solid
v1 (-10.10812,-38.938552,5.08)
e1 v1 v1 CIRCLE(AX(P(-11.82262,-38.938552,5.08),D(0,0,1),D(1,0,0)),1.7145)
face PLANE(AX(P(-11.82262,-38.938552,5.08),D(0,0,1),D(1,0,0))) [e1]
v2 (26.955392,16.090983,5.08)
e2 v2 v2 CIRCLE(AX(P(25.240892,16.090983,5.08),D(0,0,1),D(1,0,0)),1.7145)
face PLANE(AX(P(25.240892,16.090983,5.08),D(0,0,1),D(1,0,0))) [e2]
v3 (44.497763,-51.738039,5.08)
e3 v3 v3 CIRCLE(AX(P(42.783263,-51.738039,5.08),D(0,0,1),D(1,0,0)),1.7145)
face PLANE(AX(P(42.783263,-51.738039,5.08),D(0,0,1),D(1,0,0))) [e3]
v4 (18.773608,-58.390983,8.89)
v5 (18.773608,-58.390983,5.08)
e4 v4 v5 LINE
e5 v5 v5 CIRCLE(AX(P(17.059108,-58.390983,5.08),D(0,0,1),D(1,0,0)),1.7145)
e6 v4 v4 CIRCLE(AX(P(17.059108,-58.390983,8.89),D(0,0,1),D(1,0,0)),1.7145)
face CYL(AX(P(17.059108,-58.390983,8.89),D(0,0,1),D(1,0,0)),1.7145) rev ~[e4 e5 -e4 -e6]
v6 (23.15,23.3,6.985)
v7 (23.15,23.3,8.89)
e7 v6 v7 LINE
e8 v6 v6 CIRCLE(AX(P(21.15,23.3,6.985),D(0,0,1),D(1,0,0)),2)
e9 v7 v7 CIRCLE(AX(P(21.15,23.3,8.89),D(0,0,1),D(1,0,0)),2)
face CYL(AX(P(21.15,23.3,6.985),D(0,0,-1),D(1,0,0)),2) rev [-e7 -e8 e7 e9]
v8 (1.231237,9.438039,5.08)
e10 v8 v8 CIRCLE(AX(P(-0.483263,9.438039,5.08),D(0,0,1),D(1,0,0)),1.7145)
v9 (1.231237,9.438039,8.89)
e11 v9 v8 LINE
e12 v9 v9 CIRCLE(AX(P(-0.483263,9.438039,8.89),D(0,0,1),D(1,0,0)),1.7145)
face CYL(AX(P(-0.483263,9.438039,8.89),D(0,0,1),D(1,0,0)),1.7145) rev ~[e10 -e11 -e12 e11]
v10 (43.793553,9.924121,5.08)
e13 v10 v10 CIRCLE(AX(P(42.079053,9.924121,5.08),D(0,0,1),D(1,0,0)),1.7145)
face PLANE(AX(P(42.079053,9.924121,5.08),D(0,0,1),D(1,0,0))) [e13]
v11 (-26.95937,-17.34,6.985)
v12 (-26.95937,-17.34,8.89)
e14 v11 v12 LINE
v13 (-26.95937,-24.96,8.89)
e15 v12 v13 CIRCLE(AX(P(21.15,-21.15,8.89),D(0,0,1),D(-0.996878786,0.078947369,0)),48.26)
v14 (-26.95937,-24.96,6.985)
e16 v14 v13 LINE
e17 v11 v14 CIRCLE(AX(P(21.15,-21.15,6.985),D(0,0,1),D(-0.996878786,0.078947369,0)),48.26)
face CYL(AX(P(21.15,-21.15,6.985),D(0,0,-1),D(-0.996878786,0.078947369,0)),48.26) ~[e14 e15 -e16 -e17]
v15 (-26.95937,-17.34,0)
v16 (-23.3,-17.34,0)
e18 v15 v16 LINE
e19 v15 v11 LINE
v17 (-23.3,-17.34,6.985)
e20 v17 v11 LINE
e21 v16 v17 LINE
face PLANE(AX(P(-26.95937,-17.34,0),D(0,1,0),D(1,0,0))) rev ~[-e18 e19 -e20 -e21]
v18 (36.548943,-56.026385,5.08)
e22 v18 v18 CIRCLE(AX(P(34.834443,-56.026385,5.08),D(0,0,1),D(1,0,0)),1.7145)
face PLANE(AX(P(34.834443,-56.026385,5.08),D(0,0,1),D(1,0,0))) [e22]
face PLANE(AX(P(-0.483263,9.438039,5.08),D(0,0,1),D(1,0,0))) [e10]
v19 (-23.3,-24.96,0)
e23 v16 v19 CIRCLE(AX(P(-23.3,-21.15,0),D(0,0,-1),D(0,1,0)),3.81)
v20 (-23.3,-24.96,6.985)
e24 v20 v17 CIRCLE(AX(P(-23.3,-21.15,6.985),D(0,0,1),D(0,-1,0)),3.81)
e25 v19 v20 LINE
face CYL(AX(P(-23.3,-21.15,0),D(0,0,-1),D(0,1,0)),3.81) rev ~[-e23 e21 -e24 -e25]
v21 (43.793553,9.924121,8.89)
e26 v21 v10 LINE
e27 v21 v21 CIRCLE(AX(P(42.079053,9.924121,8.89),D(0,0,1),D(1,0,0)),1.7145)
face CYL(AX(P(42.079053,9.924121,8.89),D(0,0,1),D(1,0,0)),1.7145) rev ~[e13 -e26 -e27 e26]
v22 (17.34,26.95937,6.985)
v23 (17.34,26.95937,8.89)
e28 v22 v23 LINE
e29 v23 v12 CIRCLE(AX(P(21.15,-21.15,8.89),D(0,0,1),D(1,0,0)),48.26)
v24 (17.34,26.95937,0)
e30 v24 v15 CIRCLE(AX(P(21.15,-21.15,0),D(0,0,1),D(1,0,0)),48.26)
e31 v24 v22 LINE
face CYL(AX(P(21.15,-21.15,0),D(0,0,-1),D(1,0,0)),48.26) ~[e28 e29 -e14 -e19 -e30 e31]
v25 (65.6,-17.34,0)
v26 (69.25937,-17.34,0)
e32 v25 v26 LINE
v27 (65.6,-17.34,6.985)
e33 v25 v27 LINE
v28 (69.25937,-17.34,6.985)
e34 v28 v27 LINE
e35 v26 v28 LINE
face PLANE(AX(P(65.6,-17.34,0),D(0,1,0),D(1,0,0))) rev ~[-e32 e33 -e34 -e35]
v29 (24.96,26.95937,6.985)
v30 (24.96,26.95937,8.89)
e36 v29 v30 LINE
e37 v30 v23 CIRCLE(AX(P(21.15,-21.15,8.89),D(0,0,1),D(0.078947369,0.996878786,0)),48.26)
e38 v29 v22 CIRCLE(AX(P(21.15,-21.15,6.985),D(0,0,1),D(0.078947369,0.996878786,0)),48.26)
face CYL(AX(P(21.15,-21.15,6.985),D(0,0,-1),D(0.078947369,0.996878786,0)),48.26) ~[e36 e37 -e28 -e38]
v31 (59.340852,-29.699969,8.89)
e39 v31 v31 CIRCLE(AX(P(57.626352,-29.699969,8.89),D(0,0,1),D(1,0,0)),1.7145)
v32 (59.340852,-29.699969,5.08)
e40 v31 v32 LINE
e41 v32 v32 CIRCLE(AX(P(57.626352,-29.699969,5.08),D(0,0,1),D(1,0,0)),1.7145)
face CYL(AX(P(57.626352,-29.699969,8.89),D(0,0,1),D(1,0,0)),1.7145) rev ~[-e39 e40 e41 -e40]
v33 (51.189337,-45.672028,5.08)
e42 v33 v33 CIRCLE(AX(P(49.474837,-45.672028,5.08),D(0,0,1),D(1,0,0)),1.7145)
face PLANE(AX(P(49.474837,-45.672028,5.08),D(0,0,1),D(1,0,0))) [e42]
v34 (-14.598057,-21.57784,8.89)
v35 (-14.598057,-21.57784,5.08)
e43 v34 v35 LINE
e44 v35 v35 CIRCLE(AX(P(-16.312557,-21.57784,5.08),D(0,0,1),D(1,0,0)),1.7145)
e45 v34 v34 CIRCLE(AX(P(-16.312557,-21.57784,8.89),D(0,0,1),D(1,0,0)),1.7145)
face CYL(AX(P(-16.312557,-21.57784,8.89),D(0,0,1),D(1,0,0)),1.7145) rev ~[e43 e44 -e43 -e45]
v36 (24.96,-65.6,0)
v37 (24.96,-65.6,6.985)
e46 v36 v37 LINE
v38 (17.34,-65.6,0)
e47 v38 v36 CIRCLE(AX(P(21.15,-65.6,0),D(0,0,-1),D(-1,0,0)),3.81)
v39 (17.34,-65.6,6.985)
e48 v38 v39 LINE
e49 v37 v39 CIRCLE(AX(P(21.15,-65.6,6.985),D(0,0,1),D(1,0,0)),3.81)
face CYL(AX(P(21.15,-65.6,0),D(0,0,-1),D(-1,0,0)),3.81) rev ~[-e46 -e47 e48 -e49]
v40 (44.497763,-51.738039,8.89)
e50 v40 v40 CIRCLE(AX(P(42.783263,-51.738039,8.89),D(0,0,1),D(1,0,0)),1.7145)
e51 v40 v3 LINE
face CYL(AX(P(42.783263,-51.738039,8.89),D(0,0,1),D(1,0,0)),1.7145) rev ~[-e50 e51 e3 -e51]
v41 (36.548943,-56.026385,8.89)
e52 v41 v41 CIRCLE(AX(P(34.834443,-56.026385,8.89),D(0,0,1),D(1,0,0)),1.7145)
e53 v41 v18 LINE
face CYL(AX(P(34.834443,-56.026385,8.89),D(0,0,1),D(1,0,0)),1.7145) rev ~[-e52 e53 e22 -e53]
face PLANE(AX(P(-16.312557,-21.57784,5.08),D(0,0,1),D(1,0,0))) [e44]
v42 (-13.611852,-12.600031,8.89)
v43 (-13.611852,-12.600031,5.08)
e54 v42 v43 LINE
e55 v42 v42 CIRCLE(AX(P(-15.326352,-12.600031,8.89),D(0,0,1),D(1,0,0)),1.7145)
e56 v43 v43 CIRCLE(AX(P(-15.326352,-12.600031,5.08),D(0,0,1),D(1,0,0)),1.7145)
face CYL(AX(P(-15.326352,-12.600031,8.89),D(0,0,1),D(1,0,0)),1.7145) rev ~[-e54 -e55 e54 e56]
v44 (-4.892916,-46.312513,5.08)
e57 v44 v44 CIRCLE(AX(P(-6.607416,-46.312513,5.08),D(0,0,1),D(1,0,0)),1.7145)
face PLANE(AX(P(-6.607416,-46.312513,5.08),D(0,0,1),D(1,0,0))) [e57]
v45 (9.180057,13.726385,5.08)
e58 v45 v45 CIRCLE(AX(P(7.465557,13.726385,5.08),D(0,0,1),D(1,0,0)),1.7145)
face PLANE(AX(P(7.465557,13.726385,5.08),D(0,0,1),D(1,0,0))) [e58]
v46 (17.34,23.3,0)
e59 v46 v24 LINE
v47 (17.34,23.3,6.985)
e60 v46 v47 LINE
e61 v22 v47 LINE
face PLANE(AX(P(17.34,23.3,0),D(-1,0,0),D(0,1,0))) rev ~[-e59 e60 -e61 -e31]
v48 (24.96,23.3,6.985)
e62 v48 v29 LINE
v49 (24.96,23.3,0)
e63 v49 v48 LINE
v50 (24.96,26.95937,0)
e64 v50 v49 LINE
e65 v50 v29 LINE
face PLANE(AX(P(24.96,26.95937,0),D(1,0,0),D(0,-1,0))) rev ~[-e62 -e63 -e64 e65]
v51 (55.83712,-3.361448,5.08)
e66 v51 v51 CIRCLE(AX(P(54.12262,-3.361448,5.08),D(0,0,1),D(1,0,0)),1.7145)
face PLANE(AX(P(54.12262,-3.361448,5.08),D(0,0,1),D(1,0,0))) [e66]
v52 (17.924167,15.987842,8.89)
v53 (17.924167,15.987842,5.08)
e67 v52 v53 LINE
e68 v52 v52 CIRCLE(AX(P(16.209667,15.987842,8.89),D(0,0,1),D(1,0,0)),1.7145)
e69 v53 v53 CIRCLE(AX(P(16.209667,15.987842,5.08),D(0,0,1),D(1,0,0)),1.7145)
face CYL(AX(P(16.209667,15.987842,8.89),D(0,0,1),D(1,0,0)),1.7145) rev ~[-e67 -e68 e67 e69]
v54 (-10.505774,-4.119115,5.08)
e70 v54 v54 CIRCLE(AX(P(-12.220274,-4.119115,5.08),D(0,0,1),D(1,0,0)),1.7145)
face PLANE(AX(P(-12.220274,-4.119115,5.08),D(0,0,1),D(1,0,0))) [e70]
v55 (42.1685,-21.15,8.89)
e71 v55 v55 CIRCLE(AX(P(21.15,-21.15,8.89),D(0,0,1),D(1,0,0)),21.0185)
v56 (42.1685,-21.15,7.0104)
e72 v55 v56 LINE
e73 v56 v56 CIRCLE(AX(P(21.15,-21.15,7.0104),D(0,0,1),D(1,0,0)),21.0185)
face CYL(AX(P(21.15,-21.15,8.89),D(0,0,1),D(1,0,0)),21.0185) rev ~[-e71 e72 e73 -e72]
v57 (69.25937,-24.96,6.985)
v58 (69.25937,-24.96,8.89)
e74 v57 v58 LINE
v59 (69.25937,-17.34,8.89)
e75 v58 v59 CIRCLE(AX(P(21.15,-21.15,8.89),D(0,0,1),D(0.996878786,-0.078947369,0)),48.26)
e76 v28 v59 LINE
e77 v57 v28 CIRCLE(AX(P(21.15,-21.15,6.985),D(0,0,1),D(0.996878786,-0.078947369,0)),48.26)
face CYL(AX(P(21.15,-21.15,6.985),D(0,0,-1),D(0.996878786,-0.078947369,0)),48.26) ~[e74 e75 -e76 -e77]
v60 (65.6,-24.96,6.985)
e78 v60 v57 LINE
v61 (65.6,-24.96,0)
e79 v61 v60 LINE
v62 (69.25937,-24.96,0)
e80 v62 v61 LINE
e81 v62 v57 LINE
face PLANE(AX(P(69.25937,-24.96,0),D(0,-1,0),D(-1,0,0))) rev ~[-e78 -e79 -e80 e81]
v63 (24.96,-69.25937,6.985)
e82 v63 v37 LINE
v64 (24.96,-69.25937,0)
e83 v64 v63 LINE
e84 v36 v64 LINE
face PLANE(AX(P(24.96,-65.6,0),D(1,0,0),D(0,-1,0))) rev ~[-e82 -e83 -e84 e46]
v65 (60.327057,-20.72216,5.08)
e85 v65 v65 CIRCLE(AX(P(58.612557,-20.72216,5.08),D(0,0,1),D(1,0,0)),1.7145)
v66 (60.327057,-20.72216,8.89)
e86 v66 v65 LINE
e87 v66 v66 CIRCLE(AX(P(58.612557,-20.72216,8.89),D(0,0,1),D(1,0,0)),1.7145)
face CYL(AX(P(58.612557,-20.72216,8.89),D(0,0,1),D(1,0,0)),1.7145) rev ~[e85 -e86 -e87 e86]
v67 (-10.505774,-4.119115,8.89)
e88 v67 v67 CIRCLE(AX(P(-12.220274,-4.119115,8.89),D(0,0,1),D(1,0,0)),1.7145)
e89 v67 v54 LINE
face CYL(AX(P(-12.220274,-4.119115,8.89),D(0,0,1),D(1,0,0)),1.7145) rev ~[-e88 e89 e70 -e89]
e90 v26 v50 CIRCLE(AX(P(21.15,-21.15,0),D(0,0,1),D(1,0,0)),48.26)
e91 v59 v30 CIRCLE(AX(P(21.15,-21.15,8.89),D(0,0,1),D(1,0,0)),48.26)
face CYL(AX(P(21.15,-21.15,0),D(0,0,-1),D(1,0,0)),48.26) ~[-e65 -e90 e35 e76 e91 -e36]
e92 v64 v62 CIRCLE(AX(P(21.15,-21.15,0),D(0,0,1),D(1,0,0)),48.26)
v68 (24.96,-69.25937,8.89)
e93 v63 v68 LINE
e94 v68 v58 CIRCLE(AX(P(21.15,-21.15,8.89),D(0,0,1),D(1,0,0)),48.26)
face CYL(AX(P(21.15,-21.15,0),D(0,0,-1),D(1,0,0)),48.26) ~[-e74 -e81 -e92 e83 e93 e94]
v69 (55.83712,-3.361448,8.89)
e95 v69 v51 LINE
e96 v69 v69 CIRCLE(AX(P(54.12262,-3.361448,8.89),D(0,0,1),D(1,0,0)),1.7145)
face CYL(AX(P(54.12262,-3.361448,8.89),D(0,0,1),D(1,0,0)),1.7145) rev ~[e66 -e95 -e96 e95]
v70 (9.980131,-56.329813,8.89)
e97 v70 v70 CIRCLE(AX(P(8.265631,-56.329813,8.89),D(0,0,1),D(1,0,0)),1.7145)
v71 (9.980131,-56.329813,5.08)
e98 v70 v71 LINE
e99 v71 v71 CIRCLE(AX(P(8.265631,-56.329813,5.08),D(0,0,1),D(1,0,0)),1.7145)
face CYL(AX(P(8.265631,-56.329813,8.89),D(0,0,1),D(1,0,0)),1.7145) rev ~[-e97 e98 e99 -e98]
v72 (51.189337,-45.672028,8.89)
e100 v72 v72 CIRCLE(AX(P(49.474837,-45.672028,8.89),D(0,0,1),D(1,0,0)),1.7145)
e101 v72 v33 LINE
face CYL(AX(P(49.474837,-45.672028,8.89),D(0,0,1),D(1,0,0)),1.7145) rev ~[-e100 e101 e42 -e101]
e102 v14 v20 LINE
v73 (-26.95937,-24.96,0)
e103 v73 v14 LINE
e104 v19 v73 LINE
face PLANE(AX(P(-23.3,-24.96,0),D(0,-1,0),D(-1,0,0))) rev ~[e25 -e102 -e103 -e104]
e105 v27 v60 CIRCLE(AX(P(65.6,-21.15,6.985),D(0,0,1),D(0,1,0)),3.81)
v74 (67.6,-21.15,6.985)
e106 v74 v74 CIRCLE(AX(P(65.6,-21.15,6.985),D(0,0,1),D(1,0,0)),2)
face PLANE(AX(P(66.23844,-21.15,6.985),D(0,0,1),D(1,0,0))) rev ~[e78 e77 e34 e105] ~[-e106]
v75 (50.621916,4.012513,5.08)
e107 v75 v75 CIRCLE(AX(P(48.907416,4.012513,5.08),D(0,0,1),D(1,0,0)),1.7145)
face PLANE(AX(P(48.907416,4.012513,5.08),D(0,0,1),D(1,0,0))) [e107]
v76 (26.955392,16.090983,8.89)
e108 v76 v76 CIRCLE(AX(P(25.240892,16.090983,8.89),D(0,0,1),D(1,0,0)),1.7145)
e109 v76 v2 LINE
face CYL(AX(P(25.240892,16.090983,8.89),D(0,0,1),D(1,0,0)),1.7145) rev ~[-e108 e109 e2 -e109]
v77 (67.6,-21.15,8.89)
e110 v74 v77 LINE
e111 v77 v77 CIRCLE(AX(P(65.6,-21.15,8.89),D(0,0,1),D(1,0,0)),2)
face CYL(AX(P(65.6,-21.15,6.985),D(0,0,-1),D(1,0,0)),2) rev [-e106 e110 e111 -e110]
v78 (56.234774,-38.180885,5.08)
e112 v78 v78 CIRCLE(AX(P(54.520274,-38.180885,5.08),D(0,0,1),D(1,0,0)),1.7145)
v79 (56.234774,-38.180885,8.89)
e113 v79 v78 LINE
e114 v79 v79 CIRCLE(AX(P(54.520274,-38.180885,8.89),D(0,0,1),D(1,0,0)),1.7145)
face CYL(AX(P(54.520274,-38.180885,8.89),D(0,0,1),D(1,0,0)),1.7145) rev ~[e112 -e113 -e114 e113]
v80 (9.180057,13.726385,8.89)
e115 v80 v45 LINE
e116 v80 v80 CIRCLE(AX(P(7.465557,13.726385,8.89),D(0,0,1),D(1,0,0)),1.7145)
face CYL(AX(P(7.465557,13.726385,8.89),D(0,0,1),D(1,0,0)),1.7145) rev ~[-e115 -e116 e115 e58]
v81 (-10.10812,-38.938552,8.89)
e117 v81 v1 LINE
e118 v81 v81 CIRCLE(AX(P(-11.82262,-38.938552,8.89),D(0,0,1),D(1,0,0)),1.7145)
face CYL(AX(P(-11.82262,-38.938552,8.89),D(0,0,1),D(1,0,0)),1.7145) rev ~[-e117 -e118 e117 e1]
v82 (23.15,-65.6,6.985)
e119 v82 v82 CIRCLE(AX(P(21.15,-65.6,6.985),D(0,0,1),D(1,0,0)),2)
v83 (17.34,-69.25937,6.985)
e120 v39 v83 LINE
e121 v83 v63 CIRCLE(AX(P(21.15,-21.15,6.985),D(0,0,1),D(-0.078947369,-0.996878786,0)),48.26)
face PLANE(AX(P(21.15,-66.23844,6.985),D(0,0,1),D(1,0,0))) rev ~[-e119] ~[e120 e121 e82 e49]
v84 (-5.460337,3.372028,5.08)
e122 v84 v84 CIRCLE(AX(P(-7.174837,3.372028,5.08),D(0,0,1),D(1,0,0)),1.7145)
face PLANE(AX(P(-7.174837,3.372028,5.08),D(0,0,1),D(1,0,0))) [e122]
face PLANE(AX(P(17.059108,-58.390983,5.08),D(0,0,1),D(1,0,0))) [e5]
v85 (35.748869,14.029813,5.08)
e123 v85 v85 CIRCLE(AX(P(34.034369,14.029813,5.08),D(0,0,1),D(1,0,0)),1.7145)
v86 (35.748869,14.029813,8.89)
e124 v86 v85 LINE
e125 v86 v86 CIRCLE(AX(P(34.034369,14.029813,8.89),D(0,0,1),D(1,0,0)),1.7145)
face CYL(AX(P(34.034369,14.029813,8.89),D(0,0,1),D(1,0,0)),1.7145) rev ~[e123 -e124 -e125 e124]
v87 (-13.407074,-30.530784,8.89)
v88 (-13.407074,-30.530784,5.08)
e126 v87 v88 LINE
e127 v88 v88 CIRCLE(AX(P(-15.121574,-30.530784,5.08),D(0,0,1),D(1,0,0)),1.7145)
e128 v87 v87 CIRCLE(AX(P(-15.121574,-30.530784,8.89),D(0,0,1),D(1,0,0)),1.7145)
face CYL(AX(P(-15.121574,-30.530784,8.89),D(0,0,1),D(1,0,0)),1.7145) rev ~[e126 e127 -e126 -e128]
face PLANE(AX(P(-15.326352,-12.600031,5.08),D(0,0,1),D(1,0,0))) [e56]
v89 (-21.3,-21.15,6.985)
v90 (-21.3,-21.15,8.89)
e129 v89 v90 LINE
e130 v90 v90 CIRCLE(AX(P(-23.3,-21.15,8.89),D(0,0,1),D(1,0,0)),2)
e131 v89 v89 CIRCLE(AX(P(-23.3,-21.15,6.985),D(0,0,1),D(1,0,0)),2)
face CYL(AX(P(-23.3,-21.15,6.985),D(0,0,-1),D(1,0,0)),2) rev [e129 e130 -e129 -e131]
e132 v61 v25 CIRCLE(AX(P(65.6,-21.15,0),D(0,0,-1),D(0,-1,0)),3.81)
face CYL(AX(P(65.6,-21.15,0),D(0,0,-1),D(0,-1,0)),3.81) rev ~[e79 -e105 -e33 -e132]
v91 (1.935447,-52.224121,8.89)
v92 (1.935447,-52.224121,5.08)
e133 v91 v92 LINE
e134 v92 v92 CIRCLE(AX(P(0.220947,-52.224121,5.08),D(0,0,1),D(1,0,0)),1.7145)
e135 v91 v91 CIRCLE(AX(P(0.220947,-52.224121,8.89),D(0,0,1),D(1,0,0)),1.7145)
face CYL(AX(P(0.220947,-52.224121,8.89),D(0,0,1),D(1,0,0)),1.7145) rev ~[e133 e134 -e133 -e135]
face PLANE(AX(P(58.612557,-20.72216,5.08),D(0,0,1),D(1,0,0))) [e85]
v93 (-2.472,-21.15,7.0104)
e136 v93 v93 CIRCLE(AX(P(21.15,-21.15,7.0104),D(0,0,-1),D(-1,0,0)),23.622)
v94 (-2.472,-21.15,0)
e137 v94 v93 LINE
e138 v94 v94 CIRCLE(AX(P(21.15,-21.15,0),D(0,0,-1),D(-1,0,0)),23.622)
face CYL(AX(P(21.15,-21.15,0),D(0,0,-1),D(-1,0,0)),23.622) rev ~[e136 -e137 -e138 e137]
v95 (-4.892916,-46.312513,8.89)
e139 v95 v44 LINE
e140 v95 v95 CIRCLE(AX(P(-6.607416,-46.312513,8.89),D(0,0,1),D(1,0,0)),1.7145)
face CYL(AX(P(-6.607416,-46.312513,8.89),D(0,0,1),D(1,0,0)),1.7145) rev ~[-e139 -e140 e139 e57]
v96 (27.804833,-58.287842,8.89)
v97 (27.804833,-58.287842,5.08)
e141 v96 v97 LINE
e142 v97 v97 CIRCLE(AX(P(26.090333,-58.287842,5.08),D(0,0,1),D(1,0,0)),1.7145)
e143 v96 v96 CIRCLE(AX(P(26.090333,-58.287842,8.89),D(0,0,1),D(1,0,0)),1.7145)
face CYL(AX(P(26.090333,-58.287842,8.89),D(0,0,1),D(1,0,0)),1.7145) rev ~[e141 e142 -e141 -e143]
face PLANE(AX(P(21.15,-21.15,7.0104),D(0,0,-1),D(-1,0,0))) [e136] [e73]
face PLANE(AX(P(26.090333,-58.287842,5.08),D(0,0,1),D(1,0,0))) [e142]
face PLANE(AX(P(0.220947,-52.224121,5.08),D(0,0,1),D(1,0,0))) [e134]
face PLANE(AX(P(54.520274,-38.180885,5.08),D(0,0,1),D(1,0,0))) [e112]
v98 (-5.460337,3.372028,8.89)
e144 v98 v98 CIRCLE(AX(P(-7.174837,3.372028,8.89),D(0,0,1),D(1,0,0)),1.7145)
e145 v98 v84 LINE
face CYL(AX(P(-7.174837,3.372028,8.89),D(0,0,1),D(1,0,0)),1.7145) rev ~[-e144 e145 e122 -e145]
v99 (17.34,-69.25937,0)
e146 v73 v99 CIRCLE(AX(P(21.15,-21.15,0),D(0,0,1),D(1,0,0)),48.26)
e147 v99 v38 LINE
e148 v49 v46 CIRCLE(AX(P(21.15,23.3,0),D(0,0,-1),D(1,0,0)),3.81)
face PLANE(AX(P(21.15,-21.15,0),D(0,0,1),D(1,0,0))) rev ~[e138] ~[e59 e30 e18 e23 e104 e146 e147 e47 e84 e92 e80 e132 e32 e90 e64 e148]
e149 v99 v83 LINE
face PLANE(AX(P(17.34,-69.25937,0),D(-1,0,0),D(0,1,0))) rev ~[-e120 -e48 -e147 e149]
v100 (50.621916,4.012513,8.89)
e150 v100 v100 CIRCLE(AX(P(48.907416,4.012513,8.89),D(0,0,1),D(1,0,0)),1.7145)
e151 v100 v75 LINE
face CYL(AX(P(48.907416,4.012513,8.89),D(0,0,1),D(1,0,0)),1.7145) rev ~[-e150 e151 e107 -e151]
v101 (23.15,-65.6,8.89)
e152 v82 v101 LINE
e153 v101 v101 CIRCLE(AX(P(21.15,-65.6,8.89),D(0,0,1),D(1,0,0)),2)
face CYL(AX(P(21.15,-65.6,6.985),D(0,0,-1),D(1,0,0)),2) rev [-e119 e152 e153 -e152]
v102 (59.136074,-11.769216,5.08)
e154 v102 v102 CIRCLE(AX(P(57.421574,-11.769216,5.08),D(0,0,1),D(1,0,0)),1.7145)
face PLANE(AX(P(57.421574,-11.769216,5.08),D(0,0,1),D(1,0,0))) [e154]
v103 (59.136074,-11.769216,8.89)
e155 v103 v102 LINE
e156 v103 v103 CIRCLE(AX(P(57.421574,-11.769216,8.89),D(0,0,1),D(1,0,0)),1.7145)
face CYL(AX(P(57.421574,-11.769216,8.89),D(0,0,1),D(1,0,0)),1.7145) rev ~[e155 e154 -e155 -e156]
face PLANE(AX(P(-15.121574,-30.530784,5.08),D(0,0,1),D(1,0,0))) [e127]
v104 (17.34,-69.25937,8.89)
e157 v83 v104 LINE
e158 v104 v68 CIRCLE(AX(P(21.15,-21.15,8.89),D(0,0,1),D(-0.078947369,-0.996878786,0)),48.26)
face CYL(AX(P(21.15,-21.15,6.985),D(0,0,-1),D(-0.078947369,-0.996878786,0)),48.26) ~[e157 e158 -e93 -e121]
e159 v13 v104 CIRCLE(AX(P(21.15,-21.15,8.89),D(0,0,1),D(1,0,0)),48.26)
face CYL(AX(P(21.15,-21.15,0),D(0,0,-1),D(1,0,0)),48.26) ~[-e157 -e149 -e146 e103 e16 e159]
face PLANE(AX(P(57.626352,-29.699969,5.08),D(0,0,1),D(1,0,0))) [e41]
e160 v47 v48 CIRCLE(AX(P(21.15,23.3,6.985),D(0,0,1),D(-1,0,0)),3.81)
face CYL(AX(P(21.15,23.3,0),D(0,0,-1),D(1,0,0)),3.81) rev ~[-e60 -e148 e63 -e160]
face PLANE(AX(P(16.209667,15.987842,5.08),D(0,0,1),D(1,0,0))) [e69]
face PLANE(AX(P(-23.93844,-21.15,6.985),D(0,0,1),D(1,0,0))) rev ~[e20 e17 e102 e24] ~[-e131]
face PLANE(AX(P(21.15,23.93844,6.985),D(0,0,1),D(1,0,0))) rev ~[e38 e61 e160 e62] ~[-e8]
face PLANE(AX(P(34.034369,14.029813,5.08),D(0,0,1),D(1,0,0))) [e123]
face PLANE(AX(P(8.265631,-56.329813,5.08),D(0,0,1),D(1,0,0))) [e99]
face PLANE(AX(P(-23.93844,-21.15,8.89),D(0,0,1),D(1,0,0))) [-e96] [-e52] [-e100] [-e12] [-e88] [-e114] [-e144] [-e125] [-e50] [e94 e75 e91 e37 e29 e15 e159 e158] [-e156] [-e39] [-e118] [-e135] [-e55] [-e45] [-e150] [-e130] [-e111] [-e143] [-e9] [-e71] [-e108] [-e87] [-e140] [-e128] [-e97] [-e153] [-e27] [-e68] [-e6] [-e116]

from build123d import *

# Parameters (mm, degrees)
SKETCH1_R           = 48.26
BOSS_EXTRUDE1_DEPTH = 8.89
SKETCH3_R           = 1.7145
CUT_EXTRUDE1_DEPTH  = 3.81
SKETCH4_R           = 21.0185
CUT_EXTRUDE2_DEPTH  = 8.89
CUT_EXTRUDE3_DEPTH  = 99.56230669
BOSS_EXTRUDE2_START = -1.905
SKETCH8_R           = 2
BOSS_EXTRUDE2_DEPTH = 1.905
SKETCH9_R           = 23.622
CUT_EXTRUDE4_DEPTH  = 7.0104


with BuildPart() as part:
    # Sketch1 → Boss-Extrude1 (new body)
    with BuildSketch(Plane.XY):
        with Locations((21.15, -21.15)):
            Circle(SKETCH1_R)
    extrude(amount=BOSS_EXTRUDE1_DEPTH)

    # Sketch3 → Cut-Extrude1 (cut)
    with BuildSketch(Plane.XY.offset(8.89)):
        with Locations((25.240891907, 16.090983183)):
            Circle(SKETCH3_R)
        with Locations((34.034368653, 14.02981338)):
            Circle(SKETCH3_R)
        with Locations((42.079052724, 9.924120696)):
            Circle(SKETCH3_R)
        with Locations((48.907416326, 4.012513068)):
            Circle(SKETCH3_R)
        with Locations((54.122619785, -3.361448357)):
            Circle(SKETCH3_R)
        with Locations((57.421574432, -11.769215746)):
            Circle(SKETCH3_R)
        with Locations((58.612557015, -20.722160217)):
            Circle(SKETCH3_R)
        with Locations((57.626351956, -29.699969182)):
            Circle(SKETCH3_R)
        with Locations((54.520273906, -38.180885015)):
            Circle(SKETCH3_R)
        with Locations((49.474836834, -45.672027717)):
            Circle(SKETCH3_R)
        with Locations((42.783263201, -51.738039301)):
            Circle(SKETCH3_R)
        with Locations((34.834442945, -56.026385224)):
            Circle(SKETCH3_R)
        with Locations((26.090332605, -58.287842408)):
            Circle(SKETCH3_R)
        with Locations((17.059108093, -58.390983183)):
            Circle(SKETCH3_R)
        with Locations((8.265631347, -56.32981338)):
            Circle(SKETCH3_R)
        with Locations((0.220947276, -52.224120696)):
            Circle(SKETCH3_R)
        with Locations((-6.607416326, -46.312513068)):
            Circle(SKETCH3_R)
        with Locations((-11.822619785, -38.938551643)):
            Circle(SKETCH3_R)
        with Locations((-15.121574432, -30.530784254)):
            Circle(SKETCH3_R)
        with Locations((-16.312557015, -21.577839783)):
            Circle(SKETCH3_R)
        with Locations((-15.326351956, -12.600030818)):
            Circle(SKETCH3_R)
        with Locations((-12.220273906, -4.119114985)):
            Circle(SKETCH3_R)
        with Locations((-7.174836834, 3.372027717)):
            Circle(SKETCH3_R)
        with Locations((-0.483263201, 9.438039301)):
            Circle(SKETCH3_R)
        with Locations((7.465557055, 13.726385224)):
            Circle(SKETCH3_R)
        with Locations((16.209667395, 15.987842408)):
            Circle(SKETCH3_R)
    extrude(amount=-CUT_EXTRUDE1_DEPTH, mode=Mode.SUBTRACT)

    # Sketch4 → Cut-Extrude2 (cut)
    with BuildSketch(Plane.XY.offset(8.89)):
        with Locations((21.15, -21.15)):
            Circle(SKETCH4_R)
    extrude(amount=-CUT_EXTRUDE2_DEPTH, mode=Mode.SUBTRACT)

    # Sketch5 → Cut-Extrude3 (cut, through all)
    with BuildSketch(Plane(origin=(0, 0, 0), x_dir=(-1, 0, 0), z_dir=(0, 0, -1))):
        with BuildLine():
            ThreePointArc((-24.96, 23.3), (-21.15, 19.49), (-17.34, 23.3))
            Line((-17.34, 23.3), (-17.34, 26.959370189))
            ThreePointArc((-17.34, 26.959370189), (-21.15, 27.11), (-24.96, 26.959370189))
            Line((-24.96, 26.959370189), (-24.96, 23.3))
        make_face()
        with BuildLine():
            Line((-65.6, -17.34), (-69.259370189, -17.34))
            ThreePointArc((-69.259370189, -17.34), (-69.41, -21.15), (-69.259370189, -24.96))
            Line((-69.259370189, -24.96), (-65.6, -24.96))
            ThreePointArc((-65.6, -24.96), (-61.79, -21.15), (-65.6, -17.34))
        make_face()
        with BuildLine():
            Line((-24.96, -65.6), (-24.96, -69.259370189))
            ThreePointArc((-24.96, -69.259370189), (-21.15, -69.41), (-17.34, -69.259370189))
            Line((-17.34, -69.259370189), (-17.34, -65.6))
            ThreePointArc((-17.34, -65.6), (-21.15, -61.79), (-24.96, -65.6))
        make_face()
        with BuildLine():
            ThreePointArc((27.11, -21.15), (27.072327844, -19.243511779), (26.959370189, -17.34))
            Line((26.959370189, -17.34), (23.3, -17.34))
            ThreePointArc((23.3, -17.34), (19.49, -21.15), (23.3, -24.96))
            Line((23.3, -24.96), (26.959370189, -24.96))
            ThreePointArc((26.959370189, -24.96), (27.072327844, -23.056488221), (27.11, -21.15))
        make_face()
    extrude(amount=-CUT_EXTRUDE3_DEPTH, mode=Mode.SUBTRACT)

    # Sketch8 → Boss-Extrude2 (add)
    # profile 1 of 4: a face of its own
    with BuildSketch(Plane.XY.offset(8.89).offset(BOSS_EXTRUDE2_START)):
        with BuildLine():
            ThreePointArc((-26.959370189, -17.34), (-27.11, -21.15), (-26.959370189, -24.96))
            Line((-26.959370189, -24.96), (-23.3, -24.96))
            ThreePointArc((-23.3, -24.96), (-19.49, -21.15), (-23.3, -17.34))
            Line((-23.3, -17.34), (-26.959370189, -17.34))
        make_face()
        with Locations((-23.3, -21.15)):
            Circle(SKETCH8_R, mode=Mode.SUBTRACT)
    # profile 2 of 4: a face of its own
    with BuildSketch(Plane.XY.offset(8.89).offset(BOSS_EXTRUDE2_START)):
        with BuildLine():
            ThreePointArc((24.96, 26.959370189), (21.15, 27.11), (17.34, 26.959370189))
            Line((17.34, 26.959370189), (17.34, 23.3))
            ThreePointArc((17.34, 23.3), (21.15, 19.49), (24.96, 23.3))
            Line((24.96, 23.3), (24.96, 26.959370189))
        make_face()
        with Locations((21.15, 23.3)):
            Circle(SKETCH8_R, mode=Mode.SUBTRACT)
    # profile 3 of 4: a face of its own
    with BuildSketch(Plane.XY.offset(8.89).offset(BOSS_EXTRUDE2_START)):
        with BuildLine():
            ThreePointArc((69.259370189, -24.96), (69.41, -21.15), (69.259370189, -17.34))
            Line((69.259370189, -17.34), (65.6, -17.34))
            ThreePointArc((65.6, -17.34), (61.79, -21.15), (65.6, -24.96))
            Line((65.6, -24.96), (69.259370189, -24.96))
        make_face()
        with Locations((65.6, -21.15)):
            Circle(SKETCH8_R, mode=Mode.SUBTRACT)
    # profile 4 of 4: a face of its own
    with BuildSketch(Plane.XY.offset(8.89).offset(BOSS_EXTRUDE2_START)):
        with BuildLine():
            ThreePointArc((17.34, -69.259370189), (21.15, -69.41), (24.96, -69.259370189))
            Line((24.96, -69.259370189), (24.96, -65.6))
            ThreePointArc((24.96, -65.6), (21.15, -61.79), (17.34, -65.6))
            Line((17.34, -65.6), (17.34, -69.259370189))
        make_face()
        with Locations((21.15, -65.6)):
            Circle(SKETCH8_R, mode=Mode.SUBTRACT)
    extrude(amount=BOSS_EXTRUDE2_DEPTH)

    # Sketch9 → Cut-Extrude4 (cut)
    with BuildSketch(Plane(origin=(0, 0, 0), x_dir=(-1, 0, 0), z_dir=(0, 0, -1))):
        with Locations((-21.15, -21.15)):
            Circle(SKETCH9_R)
    extrude(amount=-CUT_EXTRUDE4_DEPTH, mode=Mode.SUBTRACT)


solid = part.part
